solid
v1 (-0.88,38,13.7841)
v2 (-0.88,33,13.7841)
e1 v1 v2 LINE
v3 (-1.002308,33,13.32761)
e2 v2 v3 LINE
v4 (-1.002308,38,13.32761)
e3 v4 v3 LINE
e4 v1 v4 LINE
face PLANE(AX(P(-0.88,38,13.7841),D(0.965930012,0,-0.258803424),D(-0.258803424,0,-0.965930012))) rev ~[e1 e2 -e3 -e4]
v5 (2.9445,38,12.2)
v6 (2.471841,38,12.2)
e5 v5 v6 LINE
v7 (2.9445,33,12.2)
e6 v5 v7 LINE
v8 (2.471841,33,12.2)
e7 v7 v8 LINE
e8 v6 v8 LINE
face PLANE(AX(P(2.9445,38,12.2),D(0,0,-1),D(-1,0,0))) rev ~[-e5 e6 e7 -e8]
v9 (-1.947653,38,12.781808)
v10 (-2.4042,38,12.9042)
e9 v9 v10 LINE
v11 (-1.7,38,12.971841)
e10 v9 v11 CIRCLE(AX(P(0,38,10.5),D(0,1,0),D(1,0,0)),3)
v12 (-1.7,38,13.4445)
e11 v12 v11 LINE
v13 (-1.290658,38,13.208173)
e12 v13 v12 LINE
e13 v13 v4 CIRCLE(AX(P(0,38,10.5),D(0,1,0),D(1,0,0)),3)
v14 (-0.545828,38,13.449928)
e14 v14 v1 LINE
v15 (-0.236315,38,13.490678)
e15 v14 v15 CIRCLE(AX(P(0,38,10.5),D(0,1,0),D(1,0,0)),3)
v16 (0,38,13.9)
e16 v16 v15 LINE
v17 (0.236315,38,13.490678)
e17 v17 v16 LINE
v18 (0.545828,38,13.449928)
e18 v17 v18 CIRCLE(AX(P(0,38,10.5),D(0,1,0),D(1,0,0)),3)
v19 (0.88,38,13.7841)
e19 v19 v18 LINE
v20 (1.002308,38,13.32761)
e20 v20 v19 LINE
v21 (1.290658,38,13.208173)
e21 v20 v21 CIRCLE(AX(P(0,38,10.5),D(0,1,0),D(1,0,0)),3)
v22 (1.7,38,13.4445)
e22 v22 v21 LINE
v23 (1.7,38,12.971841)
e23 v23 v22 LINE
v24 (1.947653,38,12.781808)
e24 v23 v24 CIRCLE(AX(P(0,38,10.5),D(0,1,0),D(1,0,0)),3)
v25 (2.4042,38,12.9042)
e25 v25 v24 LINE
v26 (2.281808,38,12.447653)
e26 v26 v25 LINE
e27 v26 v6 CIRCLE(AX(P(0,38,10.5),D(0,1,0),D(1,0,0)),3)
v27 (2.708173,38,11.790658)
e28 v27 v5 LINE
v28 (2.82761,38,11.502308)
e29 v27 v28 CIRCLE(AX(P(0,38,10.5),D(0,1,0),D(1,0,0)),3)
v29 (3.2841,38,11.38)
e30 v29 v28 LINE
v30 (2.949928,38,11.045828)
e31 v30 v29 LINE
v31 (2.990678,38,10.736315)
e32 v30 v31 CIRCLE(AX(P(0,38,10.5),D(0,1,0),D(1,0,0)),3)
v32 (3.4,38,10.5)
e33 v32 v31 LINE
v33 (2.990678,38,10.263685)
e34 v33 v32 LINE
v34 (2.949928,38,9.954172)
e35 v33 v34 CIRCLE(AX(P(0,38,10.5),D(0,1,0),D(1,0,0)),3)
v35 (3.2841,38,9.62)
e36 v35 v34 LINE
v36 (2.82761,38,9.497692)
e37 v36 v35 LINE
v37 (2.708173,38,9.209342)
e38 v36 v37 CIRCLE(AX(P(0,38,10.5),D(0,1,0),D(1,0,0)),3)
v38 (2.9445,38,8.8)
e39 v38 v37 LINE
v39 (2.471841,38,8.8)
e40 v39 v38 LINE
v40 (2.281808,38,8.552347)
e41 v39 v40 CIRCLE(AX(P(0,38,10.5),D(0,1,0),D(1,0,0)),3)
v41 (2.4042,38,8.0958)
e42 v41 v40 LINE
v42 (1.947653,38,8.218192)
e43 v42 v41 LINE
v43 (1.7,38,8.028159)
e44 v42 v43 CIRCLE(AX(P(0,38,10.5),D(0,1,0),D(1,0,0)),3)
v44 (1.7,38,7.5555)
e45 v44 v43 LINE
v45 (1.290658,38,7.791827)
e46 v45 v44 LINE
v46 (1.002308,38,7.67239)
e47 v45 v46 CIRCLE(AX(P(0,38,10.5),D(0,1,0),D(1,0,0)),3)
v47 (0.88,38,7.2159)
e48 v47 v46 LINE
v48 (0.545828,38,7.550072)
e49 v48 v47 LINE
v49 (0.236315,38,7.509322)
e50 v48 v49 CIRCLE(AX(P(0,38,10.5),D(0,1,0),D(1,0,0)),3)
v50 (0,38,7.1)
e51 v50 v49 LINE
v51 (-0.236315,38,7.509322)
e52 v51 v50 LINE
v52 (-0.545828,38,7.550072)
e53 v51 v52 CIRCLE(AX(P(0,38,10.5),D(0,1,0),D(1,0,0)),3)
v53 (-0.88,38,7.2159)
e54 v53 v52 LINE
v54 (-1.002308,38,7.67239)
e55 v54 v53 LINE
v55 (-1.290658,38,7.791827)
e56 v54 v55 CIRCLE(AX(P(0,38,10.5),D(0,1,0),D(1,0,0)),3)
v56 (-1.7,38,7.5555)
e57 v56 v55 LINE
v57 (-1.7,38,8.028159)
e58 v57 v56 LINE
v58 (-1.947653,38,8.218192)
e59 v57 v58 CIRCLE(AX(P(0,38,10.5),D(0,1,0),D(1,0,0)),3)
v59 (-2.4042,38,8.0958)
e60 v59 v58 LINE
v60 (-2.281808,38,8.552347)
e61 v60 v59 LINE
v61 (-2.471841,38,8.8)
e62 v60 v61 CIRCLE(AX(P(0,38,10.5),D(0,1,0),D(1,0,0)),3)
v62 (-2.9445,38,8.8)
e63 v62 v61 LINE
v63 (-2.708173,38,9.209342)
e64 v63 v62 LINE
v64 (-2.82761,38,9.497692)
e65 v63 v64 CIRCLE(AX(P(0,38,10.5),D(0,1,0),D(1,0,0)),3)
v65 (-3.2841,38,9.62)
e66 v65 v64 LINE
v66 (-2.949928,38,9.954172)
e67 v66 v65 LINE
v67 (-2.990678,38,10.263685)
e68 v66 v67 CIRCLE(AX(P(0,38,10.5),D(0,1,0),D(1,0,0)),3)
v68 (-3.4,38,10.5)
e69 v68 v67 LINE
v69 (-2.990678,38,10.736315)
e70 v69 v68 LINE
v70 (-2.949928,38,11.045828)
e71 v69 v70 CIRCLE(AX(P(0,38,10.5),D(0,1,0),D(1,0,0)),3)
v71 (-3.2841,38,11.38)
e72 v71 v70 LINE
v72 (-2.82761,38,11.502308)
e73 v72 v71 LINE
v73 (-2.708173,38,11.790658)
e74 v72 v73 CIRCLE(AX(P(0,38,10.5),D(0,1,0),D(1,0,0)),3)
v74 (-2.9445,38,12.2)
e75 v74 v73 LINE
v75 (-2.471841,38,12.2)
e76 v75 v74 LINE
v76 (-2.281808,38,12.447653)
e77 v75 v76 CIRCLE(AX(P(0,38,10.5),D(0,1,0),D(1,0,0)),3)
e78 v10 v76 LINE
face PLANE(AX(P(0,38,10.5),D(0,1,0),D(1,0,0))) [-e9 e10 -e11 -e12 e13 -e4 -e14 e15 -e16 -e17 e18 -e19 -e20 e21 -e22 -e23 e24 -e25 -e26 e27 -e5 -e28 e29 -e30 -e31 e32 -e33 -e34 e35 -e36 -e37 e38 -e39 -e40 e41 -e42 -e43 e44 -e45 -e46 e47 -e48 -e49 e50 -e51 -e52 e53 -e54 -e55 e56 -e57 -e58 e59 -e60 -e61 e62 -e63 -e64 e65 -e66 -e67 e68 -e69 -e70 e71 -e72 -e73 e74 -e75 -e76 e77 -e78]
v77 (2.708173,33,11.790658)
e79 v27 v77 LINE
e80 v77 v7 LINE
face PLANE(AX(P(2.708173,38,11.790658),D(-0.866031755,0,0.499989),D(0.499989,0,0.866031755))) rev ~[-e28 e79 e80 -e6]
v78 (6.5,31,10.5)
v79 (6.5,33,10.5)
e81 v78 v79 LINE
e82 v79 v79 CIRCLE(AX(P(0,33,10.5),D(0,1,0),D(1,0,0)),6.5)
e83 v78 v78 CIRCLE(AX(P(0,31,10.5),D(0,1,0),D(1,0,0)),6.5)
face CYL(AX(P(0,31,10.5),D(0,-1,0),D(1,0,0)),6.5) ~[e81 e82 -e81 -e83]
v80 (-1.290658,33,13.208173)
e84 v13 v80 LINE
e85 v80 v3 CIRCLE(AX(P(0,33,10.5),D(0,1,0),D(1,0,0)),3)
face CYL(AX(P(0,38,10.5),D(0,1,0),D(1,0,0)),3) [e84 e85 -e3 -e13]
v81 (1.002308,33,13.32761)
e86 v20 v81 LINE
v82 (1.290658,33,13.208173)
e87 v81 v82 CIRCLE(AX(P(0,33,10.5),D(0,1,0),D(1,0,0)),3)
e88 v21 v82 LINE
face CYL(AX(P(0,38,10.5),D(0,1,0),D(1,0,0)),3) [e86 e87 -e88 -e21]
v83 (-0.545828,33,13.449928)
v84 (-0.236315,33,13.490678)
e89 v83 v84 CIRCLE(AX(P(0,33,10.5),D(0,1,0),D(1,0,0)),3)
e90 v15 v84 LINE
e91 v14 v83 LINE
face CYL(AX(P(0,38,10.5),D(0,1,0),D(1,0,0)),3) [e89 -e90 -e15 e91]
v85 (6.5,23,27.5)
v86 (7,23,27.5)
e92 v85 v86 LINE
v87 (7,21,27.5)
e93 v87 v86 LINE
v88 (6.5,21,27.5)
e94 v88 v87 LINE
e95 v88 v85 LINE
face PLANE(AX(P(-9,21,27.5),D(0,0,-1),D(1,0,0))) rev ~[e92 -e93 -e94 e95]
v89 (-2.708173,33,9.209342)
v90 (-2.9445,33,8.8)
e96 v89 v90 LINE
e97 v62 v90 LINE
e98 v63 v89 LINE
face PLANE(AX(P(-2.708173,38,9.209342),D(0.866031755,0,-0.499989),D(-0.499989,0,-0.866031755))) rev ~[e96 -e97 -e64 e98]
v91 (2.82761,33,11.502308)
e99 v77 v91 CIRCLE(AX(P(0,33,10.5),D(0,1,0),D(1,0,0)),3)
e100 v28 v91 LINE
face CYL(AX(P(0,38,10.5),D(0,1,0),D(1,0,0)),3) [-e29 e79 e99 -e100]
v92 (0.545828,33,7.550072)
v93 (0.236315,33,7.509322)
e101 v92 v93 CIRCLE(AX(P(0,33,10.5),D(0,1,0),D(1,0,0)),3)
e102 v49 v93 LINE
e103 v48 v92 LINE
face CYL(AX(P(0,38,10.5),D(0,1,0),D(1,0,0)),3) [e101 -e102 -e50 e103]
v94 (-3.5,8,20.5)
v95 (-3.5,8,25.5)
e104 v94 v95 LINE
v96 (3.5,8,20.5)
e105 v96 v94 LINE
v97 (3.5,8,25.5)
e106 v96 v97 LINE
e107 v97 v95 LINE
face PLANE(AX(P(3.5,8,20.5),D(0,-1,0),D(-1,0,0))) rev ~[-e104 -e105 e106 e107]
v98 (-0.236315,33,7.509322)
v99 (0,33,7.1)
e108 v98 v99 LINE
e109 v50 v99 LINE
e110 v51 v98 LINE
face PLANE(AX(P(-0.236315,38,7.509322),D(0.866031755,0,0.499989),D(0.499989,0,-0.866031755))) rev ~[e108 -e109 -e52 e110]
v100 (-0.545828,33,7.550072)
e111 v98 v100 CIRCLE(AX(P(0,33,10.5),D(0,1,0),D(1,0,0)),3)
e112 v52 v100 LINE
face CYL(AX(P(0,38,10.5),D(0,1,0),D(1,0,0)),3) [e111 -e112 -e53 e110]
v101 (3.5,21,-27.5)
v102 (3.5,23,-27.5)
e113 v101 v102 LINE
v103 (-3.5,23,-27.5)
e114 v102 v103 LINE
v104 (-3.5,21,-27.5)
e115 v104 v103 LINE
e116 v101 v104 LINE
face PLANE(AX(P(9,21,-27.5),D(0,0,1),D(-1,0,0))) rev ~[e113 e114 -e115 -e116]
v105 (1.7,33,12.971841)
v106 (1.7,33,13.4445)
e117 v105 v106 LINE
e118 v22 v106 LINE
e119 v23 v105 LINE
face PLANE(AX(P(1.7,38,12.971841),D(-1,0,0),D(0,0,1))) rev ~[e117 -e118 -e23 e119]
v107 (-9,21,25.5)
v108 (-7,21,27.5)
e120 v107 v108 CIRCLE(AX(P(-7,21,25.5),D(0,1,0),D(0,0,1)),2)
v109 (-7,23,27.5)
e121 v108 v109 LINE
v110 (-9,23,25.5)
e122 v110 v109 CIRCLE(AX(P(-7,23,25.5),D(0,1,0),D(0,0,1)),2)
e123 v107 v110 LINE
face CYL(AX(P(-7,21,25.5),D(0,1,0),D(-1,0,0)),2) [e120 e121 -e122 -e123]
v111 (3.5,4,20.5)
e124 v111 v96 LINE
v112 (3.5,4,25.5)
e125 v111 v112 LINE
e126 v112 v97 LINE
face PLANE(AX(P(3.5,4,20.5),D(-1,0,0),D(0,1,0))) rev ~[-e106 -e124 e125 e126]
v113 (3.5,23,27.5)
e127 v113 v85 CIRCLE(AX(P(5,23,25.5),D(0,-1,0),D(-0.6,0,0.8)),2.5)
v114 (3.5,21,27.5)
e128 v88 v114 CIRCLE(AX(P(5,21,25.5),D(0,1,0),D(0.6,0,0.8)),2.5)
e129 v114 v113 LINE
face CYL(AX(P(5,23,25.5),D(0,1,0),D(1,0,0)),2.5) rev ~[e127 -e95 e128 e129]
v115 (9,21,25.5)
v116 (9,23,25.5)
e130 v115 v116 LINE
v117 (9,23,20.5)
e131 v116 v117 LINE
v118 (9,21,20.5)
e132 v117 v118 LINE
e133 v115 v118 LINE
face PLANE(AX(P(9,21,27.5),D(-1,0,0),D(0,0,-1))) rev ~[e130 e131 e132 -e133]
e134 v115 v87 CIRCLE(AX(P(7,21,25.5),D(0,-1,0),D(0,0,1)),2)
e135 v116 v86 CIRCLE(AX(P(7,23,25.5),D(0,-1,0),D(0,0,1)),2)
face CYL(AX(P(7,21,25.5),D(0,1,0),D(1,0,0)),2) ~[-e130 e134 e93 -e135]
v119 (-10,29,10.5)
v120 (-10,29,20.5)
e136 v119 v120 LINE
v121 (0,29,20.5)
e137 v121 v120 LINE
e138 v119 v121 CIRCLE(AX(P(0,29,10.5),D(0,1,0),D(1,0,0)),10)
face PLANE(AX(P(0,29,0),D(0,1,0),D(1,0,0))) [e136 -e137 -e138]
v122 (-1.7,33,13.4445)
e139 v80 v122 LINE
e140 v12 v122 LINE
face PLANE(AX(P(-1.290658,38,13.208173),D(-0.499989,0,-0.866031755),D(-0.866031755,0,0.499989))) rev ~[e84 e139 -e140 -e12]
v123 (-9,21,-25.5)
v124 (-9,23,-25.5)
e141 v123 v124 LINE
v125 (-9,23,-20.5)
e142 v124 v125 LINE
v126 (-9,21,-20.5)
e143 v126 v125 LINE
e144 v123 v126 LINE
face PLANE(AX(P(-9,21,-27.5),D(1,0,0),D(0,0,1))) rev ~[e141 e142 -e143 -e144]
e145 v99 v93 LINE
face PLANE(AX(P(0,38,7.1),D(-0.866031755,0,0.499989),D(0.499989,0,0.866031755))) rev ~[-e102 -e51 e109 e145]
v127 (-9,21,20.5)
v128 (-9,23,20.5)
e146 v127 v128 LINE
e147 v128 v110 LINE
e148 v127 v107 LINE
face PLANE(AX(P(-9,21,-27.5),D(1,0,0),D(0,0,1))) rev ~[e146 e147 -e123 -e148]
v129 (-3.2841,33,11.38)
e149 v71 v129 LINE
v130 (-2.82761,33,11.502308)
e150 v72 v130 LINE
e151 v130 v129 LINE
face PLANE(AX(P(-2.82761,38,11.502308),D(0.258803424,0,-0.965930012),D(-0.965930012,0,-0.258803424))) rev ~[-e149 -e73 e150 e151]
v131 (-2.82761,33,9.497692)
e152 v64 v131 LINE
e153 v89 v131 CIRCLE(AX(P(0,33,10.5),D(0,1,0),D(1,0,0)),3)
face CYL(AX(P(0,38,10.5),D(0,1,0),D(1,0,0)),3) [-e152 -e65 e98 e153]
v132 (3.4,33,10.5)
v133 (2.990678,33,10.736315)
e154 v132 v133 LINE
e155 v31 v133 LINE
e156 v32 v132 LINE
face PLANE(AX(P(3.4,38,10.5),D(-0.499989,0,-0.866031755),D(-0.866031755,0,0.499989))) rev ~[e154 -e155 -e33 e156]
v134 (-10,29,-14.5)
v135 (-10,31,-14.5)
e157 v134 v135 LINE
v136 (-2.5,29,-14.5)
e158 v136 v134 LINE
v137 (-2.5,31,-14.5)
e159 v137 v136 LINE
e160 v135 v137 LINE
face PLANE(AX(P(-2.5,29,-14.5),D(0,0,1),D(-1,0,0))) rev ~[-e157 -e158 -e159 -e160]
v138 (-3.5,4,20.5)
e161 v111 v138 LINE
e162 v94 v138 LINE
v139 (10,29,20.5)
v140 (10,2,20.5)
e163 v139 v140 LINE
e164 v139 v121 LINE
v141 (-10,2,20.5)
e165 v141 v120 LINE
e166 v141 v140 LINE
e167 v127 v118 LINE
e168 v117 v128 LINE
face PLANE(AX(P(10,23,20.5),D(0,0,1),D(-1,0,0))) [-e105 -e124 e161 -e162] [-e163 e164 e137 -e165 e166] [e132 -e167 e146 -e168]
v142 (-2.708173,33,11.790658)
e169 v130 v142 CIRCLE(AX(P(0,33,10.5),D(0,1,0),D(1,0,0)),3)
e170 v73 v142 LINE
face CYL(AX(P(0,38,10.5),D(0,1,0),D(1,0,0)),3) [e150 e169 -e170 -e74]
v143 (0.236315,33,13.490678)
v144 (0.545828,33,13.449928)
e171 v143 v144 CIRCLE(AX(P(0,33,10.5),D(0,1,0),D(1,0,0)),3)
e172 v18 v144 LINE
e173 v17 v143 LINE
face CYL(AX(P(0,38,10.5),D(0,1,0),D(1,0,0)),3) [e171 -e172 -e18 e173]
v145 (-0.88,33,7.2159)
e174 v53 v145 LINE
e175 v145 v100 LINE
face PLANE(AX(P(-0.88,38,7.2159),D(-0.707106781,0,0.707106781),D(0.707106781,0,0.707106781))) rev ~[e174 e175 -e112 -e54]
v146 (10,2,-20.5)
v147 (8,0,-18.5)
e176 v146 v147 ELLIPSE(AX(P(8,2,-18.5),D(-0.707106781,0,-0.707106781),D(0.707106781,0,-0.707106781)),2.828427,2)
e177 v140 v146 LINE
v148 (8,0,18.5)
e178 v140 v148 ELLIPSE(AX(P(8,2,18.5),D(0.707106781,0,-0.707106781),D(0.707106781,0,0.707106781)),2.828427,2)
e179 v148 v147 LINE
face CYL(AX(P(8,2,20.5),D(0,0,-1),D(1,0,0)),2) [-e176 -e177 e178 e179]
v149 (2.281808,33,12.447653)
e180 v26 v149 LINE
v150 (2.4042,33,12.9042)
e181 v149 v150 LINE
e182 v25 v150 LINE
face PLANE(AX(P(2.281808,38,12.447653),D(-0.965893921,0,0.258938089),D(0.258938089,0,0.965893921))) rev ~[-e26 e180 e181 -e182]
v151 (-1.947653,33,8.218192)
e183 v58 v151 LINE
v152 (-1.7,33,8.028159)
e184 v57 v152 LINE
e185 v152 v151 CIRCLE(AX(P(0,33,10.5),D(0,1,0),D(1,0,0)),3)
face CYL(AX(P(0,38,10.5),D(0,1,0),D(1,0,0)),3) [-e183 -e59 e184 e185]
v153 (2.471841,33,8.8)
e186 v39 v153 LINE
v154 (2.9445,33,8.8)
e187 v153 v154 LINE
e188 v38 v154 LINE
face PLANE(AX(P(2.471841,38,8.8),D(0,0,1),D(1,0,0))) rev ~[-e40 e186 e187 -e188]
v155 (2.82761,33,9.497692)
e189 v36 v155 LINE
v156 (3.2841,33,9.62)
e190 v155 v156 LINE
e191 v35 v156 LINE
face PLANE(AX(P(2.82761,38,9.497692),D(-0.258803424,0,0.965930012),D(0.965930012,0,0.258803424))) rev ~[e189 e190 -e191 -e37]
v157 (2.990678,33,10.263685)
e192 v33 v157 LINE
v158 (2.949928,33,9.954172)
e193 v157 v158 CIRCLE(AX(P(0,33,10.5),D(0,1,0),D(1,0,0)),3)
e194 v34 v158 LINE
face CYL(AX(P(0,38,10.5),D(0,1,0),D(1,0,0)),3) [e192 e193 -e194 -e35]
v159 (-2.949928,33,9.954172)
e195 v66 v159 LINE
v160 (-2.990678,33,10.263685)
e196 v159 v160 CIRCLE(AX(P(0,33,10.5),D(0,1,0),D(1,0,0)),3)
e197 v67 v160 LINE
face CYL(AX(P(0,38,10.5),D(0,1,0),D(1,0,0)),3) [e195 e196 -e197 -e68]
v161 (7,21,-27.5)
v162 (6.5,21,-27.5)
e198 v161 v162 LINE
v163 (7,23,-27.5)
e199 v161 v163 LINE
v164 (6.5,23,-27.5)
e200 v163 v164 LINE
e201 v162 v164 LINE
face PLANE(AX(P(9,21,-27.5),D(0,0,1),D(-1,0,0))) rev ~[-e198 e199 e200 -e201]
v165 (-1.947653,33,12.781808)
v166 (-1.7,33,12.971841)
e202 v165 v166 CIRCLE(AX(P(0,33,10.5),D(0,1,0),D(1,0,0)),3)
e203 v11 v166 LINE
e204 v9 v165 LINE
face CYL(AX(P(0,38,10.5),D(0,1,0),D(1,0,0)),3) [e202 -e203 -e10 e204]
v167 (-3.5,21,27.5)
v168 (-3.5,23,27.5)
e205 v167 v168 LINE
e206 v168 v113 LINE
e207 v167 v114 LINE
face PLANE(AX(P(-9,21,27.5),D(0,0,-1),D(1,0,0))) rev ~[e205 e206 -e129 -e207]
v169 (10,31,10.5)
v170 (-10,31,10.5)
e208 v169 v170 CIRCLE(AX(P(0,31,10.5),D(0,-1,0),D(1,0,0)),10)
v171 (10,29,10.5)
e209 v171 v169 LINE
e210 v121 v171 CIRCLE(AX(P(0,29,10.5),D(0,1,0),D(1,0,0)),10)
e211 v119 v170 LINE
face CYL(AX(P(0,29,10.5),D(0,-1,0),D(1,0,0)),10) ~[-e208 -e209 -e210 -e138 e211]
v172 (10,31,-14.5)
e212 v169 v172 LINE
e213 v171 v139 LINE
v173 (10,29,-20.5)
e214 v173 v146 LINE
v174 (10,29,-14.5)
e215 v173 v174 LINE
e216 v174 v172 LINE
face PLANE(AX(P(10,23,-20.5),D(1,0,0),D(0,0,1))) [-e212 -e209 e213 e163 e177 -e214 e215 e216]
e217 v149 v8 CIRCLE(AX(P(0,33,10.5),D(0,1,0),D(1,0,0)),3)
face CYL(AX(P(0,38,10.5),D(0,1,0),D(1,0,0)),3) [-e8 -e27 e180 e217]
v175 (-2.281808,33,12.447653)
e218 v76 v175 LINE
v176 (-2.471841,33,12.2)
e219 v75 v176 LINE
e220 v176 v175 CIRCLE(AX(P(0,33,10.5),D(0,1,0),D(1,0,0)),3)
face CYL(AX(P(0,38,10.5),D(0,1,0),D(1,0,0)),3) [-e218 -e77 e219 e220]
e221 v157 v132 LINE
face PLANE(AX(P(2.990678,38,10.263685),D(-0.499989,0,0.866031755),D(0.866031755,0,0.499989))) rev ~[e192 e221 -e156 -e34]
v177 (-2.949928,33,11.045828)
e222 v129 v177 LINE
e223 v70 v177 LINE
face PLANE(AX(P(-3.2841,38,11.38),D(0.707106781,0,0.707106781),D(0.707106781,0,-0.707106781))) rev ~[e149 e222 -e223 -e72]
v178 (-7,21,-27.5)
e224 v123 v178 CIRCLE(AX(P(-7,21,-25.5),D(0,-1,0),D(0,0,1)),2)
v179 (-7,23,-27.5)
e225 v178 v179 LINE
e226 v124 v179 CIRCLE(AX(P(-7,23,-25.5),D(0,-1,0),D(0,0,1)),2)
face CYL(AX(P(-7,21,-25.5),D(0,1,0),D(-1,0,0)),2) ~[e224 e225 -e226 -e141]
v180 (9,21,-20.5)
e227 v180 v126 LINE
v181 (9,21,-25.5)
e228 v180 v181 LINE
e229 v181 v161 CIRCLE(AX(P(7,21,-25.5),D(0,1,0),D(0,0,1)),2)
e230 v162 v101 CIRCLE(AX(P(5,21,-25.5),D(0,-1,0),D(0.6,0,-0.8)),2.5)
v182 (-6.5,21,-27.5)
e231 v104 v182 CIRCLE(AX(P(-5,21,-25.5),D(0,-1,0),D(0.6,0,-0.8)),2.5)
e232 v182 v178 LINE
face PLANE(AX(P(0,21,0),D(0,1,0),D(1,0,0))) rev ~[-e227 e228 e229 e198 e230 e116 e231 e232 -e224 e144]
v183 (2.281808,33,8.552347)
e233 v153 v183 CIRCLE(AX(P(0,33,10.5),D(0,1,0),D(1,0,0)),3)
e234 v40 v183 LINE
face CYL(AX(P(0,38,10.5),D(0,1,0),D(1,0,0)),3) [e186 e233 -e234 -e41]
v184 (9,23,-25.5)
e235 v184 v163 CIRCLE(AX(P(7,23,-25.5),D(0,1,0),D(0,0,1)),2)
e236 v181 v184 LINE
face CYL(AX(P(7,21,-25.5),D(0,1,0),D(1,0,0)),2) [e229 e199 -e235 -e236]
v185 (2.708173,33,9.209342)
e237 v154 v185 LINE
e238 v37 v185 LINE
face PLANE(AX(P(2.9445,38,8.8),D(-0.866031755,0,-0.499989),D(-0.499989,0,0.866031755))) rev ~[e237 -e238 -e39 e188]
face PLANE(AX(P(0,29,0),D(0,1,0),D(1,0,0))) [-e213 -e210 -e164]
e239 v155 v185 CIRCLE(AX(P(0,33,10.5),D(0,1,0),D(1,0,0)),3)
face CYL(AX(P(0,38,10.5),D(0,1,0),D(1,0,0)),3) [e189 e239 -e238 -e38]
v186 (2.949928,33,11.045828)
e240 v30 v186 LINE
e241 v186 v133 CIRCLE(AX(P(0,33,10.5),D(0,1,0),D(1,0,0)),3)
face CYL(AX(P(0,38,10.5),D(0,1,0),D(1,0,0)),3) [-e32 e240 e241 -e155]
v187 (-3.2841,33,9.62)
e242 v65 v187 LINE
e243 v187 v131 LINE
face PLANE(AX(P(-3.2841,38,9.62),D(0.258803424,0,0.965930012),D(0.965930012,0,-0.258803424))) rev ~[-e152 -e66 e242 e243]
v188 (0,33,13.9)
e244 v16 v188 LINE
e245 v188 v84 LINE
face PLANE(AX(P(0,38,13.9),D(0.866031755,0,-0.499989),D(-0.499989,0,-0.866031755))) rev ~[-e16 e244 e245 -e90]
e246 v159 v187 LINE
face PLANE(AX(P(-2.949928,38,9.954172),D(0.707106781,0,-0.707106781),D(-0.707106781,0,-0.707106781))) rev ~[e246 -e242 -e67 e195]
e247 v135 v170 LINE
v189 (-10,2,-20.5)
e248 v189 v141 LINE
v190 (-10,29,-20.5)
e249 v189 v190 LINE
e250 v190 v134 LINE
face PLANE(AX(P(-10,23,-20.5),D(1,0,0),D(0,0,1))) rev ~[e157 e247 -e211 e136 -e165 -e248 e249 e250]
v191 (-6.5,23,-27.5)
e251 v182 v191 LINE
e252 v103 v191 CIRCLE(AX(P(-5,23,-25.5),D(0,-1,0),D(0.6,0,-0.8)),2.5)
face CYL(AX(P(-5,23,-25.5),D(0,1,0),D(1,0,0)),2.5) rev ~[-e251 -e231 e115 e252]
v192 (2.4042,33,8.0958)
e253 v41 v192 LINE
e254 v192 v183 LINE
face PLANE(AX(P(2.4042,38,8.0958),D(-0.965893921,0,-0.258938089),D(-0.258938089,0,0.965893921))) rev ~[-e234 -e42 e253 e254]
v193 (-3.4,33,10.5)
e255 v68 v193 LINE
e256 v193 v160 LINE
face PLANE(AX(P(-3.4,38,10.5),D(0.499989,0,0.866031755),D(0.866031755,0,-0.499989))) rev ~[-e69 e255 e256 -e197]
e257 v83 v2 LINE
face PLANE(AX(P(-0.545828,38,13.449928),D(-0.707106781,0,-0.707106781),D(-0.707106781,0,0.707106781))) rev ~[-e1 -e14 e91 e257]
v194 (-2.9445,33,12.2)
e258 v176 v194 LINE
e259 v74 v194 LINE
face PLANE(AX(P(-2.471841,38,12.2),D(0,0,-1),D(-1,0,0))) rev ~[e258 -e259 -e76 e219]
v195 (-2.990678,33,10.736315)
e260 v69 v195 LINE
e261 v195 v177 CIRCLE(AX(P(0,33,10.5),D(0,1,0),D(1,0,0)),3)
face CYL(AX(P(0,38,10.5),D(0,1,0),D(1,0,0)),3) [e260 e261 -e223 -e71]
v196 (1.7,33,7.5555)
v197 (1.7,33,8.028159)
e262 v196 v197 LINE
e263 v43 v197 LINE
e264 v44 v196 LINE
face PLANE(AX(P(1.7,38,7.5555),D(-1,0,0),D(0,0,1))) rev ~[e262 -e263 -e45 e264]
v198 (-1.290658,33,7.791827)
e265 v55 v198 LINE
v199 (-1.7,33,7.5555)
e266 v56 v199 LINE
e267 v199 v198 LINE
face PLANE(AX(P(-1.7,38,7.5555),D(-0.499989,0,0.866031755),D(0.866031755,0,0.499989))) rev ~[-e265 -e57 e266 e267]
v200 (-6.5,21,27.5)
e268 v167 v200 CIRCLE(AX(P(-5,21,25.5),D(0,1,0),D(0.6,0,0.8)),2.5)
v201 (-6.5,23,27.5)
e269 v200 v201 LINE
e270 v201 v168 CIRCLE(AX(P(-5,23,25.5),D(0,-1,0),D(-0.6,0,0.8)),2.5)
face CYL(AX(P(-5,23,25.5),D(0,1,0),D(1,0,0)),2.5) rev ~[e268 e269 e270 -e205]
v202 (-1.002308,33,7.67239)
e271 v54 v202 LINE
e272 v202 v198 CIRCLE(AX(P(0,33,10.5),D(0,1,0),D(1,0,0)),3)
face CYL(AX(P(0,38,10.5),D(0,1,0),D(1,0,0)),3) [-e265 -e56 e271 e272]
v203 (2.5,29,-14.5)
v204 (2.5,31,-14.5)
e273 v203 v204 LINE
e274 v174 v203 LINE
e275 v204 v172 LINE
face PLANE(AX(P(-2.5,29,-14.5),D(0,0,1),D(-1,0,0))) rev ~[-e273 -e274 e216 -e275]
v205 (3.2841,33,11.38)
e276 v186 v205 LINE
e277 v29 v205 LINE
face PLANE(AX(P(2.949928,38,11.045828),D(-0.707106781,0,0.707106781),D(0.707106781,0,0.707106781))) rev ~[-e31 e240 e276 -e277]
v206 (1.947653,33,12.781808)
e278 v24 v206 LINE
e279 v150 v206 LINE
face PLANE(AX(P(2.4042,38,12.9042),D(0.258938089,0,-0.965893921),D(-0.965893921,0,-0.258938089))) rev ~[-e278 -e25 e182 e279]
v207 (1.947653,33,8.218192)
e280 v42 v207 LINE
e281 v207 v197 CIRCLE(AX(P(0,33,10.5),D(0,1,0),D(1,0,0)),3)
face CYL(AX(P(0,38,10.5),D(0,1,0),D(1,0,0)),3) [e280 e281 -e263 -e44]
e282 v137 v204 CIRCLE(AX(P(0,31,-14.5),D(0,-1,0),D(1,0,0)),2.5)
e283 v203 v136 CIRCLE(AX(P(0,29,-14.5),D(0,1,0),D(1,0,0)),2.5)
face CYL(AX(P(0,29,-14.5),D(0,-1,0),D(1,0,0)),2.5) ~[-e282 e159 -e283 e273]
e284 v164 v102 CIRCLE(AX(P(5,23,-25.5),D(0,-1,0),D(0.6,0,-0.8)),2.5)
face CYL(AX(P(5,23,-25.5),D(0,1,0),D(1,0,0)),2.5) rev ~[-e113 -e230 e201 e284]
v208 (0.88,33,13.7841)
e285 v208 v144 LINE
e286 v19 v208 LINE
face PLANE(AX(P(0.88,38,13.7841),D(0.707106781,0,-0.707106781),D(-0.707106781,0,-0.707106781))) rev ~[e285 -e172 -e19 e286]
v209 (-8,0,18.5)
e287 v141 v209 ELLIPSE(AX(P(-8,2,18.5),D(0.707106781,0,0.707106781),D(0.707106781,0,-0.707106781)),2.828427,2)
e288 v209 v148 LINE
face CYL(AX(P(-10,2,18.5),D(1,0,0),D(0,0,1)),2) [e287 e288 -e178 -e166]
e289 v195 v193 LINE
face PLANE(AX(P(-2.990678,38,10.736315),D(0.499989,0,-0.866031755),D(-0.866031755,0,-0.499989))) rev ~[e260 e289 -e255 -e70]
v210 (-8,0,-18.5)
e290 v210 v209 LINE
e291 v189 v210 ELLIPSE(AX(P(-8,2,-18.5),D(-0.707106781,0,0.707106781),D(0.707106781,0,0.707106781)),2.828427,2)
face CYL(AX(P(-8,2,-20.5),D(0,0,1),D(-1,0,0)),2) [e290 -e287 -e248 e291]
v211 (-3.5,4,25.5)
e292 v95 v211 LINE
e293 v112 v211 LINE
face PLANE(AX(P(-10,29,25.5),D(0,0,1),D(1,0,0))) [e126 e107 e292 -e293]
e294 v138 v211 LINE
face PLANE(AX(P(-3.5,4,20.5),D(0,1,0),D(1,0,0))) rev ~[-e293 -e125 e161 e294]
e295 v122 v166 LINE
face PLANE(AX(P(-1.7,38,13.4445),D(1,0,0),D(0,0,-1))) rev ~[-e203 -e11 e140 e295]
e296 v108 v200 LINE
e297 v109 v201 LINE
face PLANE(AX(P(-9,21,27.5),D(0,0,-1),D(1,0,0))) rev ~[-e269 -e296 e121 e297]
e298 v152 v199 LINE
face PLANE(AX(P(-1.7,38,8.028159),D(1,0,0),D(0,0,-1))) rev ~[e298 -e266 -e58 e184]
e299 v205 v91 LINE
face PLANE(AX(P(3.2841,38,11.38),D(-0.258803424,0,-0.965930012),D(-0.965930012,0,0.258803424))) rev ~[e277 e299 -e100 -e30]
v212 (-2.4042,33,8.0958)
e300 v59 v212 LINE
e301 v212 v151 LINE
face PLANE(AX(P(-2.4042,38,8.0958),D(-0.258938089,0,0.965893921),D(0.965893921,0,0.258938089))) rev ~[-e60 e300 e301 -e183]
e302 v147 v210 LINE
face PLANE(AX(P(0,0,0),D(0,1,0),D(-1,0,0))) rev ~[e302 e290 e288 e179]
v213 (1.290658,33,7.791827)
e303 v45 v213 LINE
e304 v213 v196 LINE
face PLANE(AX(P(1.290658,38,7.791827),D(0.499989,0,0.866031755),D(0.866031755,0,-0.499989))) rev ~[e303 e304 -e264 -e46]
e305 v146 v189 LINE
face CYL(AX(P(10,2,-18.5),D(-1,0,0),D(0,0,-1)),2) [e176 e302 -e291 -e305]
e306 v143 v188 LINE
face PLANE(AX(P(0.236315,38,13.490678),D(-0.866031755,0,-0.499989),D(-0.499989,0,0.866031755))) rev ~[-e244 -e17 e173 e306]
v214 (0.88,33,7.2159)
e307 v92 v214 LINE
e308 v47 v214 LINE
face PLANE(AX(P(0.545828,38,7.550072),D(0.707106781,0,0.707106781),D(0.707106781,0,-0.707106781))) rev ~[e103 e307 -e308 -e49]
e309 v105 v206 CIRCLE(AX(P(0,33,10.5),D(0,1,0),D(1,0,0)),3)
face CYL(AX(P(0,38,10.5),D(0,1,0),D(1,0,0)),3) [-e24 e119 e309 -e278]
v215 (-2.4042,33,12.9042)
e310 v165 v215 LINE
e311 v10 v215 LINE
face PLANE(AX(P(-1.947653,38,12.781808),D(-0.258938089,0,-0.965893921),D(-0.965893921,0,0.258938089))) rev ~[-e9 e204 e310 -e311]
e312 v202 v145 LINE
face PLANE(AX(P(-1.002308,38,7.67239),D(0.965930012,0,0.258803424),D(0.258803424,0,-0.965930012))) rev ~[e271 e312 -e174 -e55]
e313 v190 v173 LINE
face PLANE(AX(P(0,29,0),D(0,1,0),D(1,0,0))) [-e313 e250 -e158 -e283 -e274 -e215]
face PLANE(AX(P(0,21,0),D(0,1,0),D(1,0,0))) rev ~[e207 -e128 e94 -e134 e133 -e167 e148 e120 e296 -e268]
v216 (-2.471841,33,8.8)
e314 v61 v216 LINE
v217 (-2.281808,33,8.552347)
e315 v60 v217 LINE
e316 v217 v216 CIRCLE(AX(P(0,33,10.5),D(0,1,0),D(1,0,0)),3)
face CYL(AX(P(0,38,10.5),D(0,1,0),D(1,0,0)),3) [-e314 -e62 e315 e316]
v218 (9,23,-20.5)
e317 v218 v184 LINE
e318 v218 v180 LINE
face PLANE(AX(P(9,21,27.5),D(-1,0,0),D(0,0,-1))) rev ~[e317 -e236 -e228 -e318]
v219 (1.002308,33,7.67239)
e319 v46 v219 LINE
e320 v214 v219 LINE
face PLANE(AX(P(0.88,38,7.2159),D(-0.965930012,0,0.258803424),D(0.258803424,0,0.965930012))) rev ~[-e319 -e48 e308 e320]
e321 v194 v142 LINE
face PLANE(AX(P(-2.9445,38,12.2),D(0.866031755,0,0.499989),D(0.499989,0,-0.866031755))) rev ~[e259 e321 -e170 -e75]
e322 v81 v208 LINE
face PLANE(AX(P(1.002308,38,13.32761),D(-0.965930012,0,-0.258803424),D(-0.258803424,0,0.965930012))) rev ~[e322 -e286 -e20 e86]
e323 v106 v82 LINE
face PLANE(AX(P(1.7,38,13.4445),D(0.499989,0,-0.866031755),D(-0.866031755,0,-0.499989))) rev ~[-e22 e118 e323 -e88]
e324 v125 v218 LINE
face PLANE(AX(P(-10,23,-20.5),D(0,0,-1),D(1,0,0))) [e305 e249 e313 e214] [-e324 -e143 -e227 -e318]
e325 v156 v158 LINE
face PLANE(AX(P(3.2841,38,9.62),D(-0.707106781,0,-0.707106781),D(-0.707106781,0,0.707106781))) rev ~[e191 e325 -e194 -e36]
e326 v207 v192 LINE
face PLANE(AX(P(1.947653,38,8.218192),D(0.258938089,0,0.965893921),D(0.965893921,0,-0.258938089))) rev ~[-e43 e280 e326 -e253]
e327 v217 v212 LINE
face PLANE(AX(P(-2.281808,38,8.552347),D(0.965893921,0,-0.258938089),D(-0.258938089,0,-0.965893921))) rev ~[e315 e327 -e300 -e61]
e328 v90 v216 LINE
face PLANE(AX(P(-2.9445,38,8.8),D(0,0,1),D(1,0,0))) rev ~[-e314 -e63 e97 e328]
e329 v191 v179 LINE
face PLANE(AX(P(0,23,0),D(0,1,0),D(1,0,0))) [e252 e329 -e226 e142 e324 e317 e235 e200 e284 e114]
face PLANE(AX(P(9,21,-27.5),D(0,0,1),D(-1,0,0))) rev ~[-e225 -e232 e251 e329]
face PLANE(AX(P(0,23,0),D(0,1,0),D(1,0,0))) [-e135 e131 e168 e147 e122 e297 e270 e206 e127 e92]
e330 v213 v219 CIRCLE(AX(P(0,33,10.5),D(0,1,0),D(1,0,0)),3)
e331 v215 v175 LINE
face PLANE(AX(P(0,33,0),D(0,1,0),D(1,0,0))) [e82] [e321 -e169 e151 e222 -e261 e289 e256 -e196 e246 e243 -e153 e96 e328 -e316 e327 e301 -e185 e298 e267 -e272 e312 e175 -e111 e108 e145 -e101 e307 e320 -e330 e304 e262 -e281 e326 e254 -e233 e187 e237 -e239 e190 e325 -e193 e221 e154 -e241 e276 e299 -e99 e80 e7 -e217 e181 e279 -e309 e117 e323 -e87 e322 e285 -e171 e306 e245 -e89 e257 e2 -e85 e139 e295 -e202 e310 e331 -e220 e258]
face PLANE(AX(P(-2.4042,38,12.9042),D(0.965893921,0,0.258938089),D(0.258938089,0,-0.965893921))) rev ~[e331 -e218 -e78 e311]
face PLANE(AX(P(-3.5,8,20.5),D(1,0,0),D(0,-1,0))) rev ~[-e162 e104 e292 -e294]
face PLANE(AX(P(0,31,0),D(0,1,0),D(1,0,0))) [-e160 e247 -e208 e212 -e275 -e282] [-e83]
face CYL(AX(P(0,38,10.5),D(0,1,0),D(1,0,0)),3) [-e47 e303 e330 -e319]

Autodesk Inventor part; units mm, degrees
ref_plane "YZ Plane" through (0, 0, 0) normal (1, 0, 0) x (0, 1, 0)
ref_plane "XZ Plane" through (0, 0, 0) normal (0, 1, 0) x (-1, 0, 0)
ref_plane "XY Plane" through (0, 0, 0) normal (0, 0, 1) x (1, 0, 0)
sketch "Boceto1" plane through (0, 0, 0) normal (0, 1, 0) x (-1, 0, 0)
  line L0 (10, 20.5) -> (-10, 20.5)
  line L1 (-10, 20.5) -> (-10, -20.5)
  line L2 (-10, -20.5) -> (10, -20.5)
  line L3 (10, -20.5) -> (10, 20.5)
  line L4 (10, 20.5) -> (-10, -20.5) construction
  line L5 (-10, 20.5) -> (10, -20.5) construction
  point P0 (0, 0)
  dimension "d0" = 20
  dimension "d1" = 41
extrude "Extrusión1" add sketch "Boceto1" along normal blind 21
sketch "Boceto2" plane through (0, 21, 0) normal (0, 1, 0) x (1, 0, 0)
  line L0 (-9, -27.5) -> (9, -27.5)
  line L1 (9, -27.5) -> (9, 27.5)
  line L2 (9, 27.5) -> (-9, 27.5)
  line L3 (-9, 27.5) -> (-9, -27.5)
  line L4 (-9, -27.5) -> (9, 27.5) construction
  line L5 (9, -27.5) -> (-9, 27.5) construction
  point P0 (0, 0)
  dimension "d4" = 18
  dimension "d5" = 55
extrude "Extrusión2" add sketch "Boceto2" along normal blind 2
sketch "Boceto3" plane through (0, 21, 0) normal (0, 1, 0) x (1, 0, 0)
  line L0 (-10, -20.5) -> (10, -20.5) projected
  line L1 (10, -20.5) -> (-10, -20.5)
  line L2 (-10, -20.5) -> (-10, 20.5)
  line L3 (-10, 20.5) -> (10, 20.5)
  line L4 (10, 20.5) -> (10, -20.5)
  point P0 (0, 0)
extrude "Extrusión3" add sketch "Boceto3" along normal blind 2
sketch "Boceto4" plane through (0, 23, 0) normal (0, 1, 0) x (1, 0, 0)
  line L0 (-10, 20.5) -> (-10, -20.5) projected
  line L1 (10, -20.5) -> (-10, -20.5)
  line L2 (-10, -20.5) -> (-10, 20.5)
  line L3 (-10, 20.5) -> (10, 20.5)
  line L4 (10, 20.5) -> (10, -20.5)
  line L5 (10, -20.5) -> (-10, 20.5) construction
  line L6 (-10, -20.5) -> (10, 20.5) construction
  point P0 (0, 0)
extrude "Extrusión4" add sketch "Boceto4" along normal blind 6
fillet "Empalme1" radius 2 4 edges at (0, 0, 20.5) (-10, 0, 0) (10, 0, 0) (0, 0, -20.5)
sketch "Boceto5" plane through (-10, 29, 20.5) normal (0, 0, 1) x (1, 0, 0)
  line L0 (10, -29) -> (10, -25)
  line L1 (10, -25) -> (10, -23)
  line L2 (13.5, -21) -> (6.5, -21)
  line L3 (6.5, -21) -> (6.5, -25)
  line L4 (6.5, -25) -> (13.5, -25)
  line L5 (13.5, -25) -> (13.5, -21)
  line L6 (13.5, -21) -> (6.5, -25) construction
  line L7 (6.5, -21) -> (13.5, -25) construction
  dimension "d13" = 4
  dimension "d14" = 2
  dimension "d15" = 7
  dimension "d16" = 4
extrude "Extrusión5" add sketch "Boceto5" along normal blind 5
fillet "Empalme2" radius 2 4 edges at (-9, 22, 27.5) (9, 22, 27.5) (-9, 22, -27.5) (9, 22, -27.5)
sketch "Boceto6" plane through (0, 23, 0) normal (0, 1, 0) x (1, 0, 0)
  line L0 (9, -25.5) -> (9, -20.5) projected
  arc A0 (7, -27.5) -> (9, -25.5) centre (7, -25.5) ccw projected
  line L1 (9, -25.5) -> (7, -25.5)
  line L2 (7, -25.5) -> (7, -27.5)
  line L3 (7, -27.5) -> (9, -27.5)
  line L4 (9, -27.5) -> (9, -25.5)
  line L5 (9, -27.5) -> (5, -27.5)
  line L6 (5, -27.5) -> (5, -25.5)
  line L7 (5, -25.5) -> (9, -25.5)
  line L8 (9, -25.5) -> (9, -27.5)
  circle A1 centre (5, -25.5) radius 2.5
  line L9 (-7, -27.5) -> (7, -27.5) projected
  line L10 (0, -27.5) -> (0, 27.5)
  line L11 (7, 27.5) -> (-7, 27.5) projected
  line L12 (10, 20.5) -> (10, -20.5) projected
  line L13 (10, 0) -> (-10, 0)
  line L14 (-10, -20.5) -> (-10, 20.5) projected
  circle A2 centre (-5, -25.5) radius 2.5
  line L15 (-10, 0) -> (10, 0)
  circle A3 centre (5, 25.5) radius 2.5
  circle A4 centre (-5, 25.5) radius 2.5
  point P0 (0, 0)
  dimension "d20" = 4
  dimension "d21" = 2
  dimension "d22" = 5
extrude "Extrusión6" cut sketch "Boceto6" against normal blind 2 contours A2 L9 | L9 A2 | A4 L11 | L11 A4 | A3 L11 | L11 A3 | A1 L5 L6 L7 L2 | L2 L1 A1 | A1 L9 L5 | L1 L7 L6 L9 A1
sketch "Boceto7" plane through (0, 29, 0) normal (0, 1, 0) x (1, 0, 0)
  line L0 (10, 20.5) -> (-10, 20.5) projected
  line L1 (-10, 20.5) -> (10, 20.5)
  line L2 (10, -20.5) -> (10, 20.5) projected
  line L3 (10, 14.5) -> (10, -10.5)
  line L4 (-10, -20.5) -> (10, -20.5) projected
  line L5 (-10, -20.5) -> (-10, 14.5)
  circle A0 centre (0, -10.5) radius 10
  line L6 (10, 20.5) -> (10, 14.5)
  line L7 (10, 14.5) -> (-10, 14.5)
  circle A1 centre (0, 14.5) radius 2.5
  point P0 (0, 0)
  dimension "d25" = 6
  dimension "d26" = 90
  dimension "d27" = 5
extrude "Extrusión7" add sketch "Boceto7" along normal blind 2 contours A0 | A1 L7 | L7 A1
sketch "Boceto8" plane through (0, 29, 0) normal (0, 1, 0) x (1, 0, 0)
  circle A0 centre (0, -10.5) radius 10 projected
  circle A1 centre (0, 14.5) radius 2.5 projected
  line L0 (0, -10.5) -> (0, 14.5)
  line L1 (10, -10.5) -> (10, 20.5) projected
  line L2 (-10, -10.5) -> (10, -10.5)
  line L3 (10, -10.5) -> (10, 14.5)
  line L4 (10, 14.5) -> (-10, 14.5)
  line L5 (-10, 14.5) -> (-10, -10.5)
  line L6 (-10, -10.5) -> (10, 14.5) construction
  line L7 (10, -10.5) -> (-10, 14.5) construction
  point P0 (0, 0)
  point P1 (0, 2)
extrude "Extrusión8" add sketch "Boceto8" along normal blind 2 contours L5 L4 A1 L0 A0 | A0 L0 L2 | L2 L0 A0 | A0 L0 A1 L4 L1 | L0 L4 A1 | A1 L4 L0
sketch "Boceto9" plane through (0, 31, 0) normal (0, 1, 0) x (1, 0, 0)
  arc A0 (0, -20.5) -> (10, -10.5) centre (0, -10.5) ccw projected
  circle A1 centre (0, -10.5) radius 6.5
  point P0 (0, 0)
  dimension "d32" = 13
extrude "Extrusión9" add sketch "Boceto9" along normal blind 2
sketch "Boceto10" plane through (0, 33, 10.5) normal (0, 1, 0) x (1, 0, 0)
  circle A0 centre (0, 0) radius 6.5 projected
  circle A1 centre (0, 0) radius 3
  point P0 (0, 10.5)
  dimension "d35" = 6
extrude "Extrusión10" add sketch "Boceto10" along normal blind 5 contours A1
sketch "Boceto11" plane through (0, 38, 10.5) normal (0, 1, 0) x (1, 0, 0)
  circle A0 centre (0, 0) radius 3 projected
  line L0 (0, 0) -> (0, 3)
  line L1 (0, 3) -> (0, 2.8)
  line L2 (-0.3464, 2.8) -> (0, 3.4)
  line L3 (0, 3.4) -> (0.3464, 2.8)
  line L4 (0.3464, 2.8) -> (-0.3464, 2.8)
  line L5 (-1.0593, 2.6149) -> (-0.88, 3.2841)
  line L6 (-0.88, 3.2841) -> (-0.3901, 2.7942)
  line L7 (-0.3901, 2.7942) -> (-1.0593, 2.6149)
  line L8 (-1.7, 2.2517) -> (-1.7, 2.9445)
  line L9 (-1.7, 2.9445) -> (-1.1, 2.5981)
  line L10 (-1.1, 2.5981) -> (-1.7, 2.2517)
  line L11 (-2.2248, 1.735) -> (-2.4042, 2.4042)
  line L12 (-2.4042, 2.4042) -> (-1.735, 2.2248)
  line L13 (-1.735, 2.2248) -> (-2.2248, 1.735)
  line L14 (-2.5981, 1.1) -> (-2.9445, 1.7)
  line L15 (-2.9445, 1.7) -> (-2.2517, 1.7)
  line L16 (-2.2517, 1.7) -> (-2.5981, 1.1)
  line L17 (-2.7942, 0.3901) -> (-3.2841, 0.88)
  line L18 (-3.2841, 0.88) -> (-2.6149, 1.0593)
  line L19 (-2.6149, 1.0593) -> (-2.7942, 0.3901)
  line L20 (-2.8, -0.3464) -> (-3.4, 0)
  line L21 (-3.4, 0) -> (-2.8, 0.3464)
  line L22 (-2.8, 0.3464) -> (-2.8, -0.3464)
  line L23 (-2.6149, -1.0593) -> (-3.2841, -0.88)
  line L24 (-3.2841, -0.88) -> (-2.7942, -0.3901)
  line L25 (-2.7942, -0.3901) -> (-2.6149, -1.0593)
  line L26 (-2.2517, -1.7) -> (-2.9445, -1.7)
  line L27 (-2.9445, -1.7) -> (-2.5981, -1.1)
  line L28 (-2.5981, -1.1) -> (-2.2517, -1.7)
  line L29 (-1.735, -2.2248) -> (-2.4042, -2.4042)
  line L30 (-2.4042, -2.4042) -> (-2.2248, -1.735)
  line L31 (-2.2248, -1.735) -> (-1.735, -2.2248)
  line L32 (-1.1, -2.5981) -> (-1.7, -2.9445)
  line L33 (-1.7, -2.9445) -> (-1.7, -2.2517)
  line L34 (-1.7, -2.2517) -> (-1.1, -2.5981)
  line L35 (-0.3901, -2.7942) -> (-0.88, -3.2841)
  line L36 (-0.88, -3.2841) -> (-1.0593, -2.6149)
  line L37 (-1.0593, -2.6149) -> (-0.3901, -2.7942)
  line L38 (0.3464, -2.8) -> (0, -3.4)
  line L39 (0, -3.4) -> (-0.3464, -2.8)
  line L40 (-0.3464, -2.8) -> (0.3464, -2.8)
  line L41 (1.0593, -2.6149) -> (0.88, -3.2841)
  line L42 (0.88, -3.2841) -> (0.3901, -2.7942)
  line L43 (0.3901, -2.7942) -> (1.0593, -2.6149)
  line L44 (1.7, -2.2517) -> (1.7, -2.9445)
  line L45 (1.7, -2.9445) -> (1.1, -2.5981)
  line L46 (1.1, -2.5981) -> (1.7, -2.2517)
  line L47 (2.2248, -1.735) -> (2.4042, -2.4042)
  line L48 (2.4042, -2.4042) -> (1.735, -2.2248)
  line L49 (1.735, -2.2248) -> (2.2248, -1.735)
  line L50 (2.5981, -1.1) -> (2.9445, -1.7)
  line L51 (2.9445, -1.7) -> (2.2517, -1.7)
  line L52 (2.2517, -1.7) -> (2.5981, -1.1)
  line L53 (2.7942, -0.3901) -> (3.2841, -0.88)
  line L54 (3.2841, -0.88) -> (2.6149, -1.0593)
  line L55 (2.6149, -1.0593) -> (2.7942, -0.3901)
  line L56 (2.8, 0.3464) -> (3.4, 0)
  line L57 (3.4, 0) -> (2.8, -0.3464)
  line L58 (2.8, -0.3464) -> (2.8, 0.3464)
  line L59 (2.6149, 1.0593) -> (3.2841, 0.88)
  line L60 (3.2841, 0.88) -> (2.7942, 0.3901)
  line L61 (2.7942, 0.3901) -> (2.6149, 1.0593)
  line L62 (2.2517, 1.7) -> (2.9445, 1.7)
  line L63 (2.9445, 1.7) -> (2.5981, 1.1)
  line L64 (2.5981, 1.1) -> (2.2517, 1.7)
  line L65 (1.735, 2.2248) -> (2.4042, 2.4042)
  line L66 (2.4042, 2.4042) -> (2.2248, 1.735)
  line L67 (2.2248, 1.735) -> (1.735, 2.2248)
  line L68 (1.1, 2.5981) -> (1.7, 2.9445)
  line L69 (1.7, 2.9445) -> (1.7, 2.2517)
  line L70 (1.7, 2.2517) -> (1.1, 2.5981)
  line L71 (0.3901, 2.7942) -> (0.88, 3.2841)
  line L72 (0.88, 3.2841) -> (1.0593, 2.6149)
  line L73 (1.0593, 2.6149) -> (0.3901, 2.7942)
  point P0 (0, 10.5)
  point P1 (-0.7247, 2.7046)
  point P2 (-1.4, 2.4249)
  point P3 (-1.9799, 1.9799)
  point P4 (-2.4249, 1.4)
  point P5 (-2.7046, 0.7247)
  point P6 (-2.8, 0)
  point P7 (-2.7046, -0.7247)
  point P8 (-2.4249, -1.4)
  point P9 (-1.9799, -1.9799)
  point P10 (-1.4, -2.4249)
  point P11 (-0.7247, -2.7046)
  point P12 (0, -2.8)
  point P13 (0.7247, -2.7046)
  point P14 (1.4, -2.4249)
  point P15 (1.9799, -1.9799)
  point P16 (2.4249, -1.4)
  point P17 (2.7046, -0.7247)
  point P18 (2.8, 0)
  point P19 (2.7046, 0.7247)
  point P20 (2.4249, 1.4)
  point P21 (1.9799, 1.9799)
  point P22 (1.4, 2.4249)
  point P23 (0.7247, 2.7046)
  dimension "d38" = 0.2
  dimension "d41" = 360
extrude "Extrusión11" add sketch "Boceto11" against normal blind 5
properties part number "Base"
